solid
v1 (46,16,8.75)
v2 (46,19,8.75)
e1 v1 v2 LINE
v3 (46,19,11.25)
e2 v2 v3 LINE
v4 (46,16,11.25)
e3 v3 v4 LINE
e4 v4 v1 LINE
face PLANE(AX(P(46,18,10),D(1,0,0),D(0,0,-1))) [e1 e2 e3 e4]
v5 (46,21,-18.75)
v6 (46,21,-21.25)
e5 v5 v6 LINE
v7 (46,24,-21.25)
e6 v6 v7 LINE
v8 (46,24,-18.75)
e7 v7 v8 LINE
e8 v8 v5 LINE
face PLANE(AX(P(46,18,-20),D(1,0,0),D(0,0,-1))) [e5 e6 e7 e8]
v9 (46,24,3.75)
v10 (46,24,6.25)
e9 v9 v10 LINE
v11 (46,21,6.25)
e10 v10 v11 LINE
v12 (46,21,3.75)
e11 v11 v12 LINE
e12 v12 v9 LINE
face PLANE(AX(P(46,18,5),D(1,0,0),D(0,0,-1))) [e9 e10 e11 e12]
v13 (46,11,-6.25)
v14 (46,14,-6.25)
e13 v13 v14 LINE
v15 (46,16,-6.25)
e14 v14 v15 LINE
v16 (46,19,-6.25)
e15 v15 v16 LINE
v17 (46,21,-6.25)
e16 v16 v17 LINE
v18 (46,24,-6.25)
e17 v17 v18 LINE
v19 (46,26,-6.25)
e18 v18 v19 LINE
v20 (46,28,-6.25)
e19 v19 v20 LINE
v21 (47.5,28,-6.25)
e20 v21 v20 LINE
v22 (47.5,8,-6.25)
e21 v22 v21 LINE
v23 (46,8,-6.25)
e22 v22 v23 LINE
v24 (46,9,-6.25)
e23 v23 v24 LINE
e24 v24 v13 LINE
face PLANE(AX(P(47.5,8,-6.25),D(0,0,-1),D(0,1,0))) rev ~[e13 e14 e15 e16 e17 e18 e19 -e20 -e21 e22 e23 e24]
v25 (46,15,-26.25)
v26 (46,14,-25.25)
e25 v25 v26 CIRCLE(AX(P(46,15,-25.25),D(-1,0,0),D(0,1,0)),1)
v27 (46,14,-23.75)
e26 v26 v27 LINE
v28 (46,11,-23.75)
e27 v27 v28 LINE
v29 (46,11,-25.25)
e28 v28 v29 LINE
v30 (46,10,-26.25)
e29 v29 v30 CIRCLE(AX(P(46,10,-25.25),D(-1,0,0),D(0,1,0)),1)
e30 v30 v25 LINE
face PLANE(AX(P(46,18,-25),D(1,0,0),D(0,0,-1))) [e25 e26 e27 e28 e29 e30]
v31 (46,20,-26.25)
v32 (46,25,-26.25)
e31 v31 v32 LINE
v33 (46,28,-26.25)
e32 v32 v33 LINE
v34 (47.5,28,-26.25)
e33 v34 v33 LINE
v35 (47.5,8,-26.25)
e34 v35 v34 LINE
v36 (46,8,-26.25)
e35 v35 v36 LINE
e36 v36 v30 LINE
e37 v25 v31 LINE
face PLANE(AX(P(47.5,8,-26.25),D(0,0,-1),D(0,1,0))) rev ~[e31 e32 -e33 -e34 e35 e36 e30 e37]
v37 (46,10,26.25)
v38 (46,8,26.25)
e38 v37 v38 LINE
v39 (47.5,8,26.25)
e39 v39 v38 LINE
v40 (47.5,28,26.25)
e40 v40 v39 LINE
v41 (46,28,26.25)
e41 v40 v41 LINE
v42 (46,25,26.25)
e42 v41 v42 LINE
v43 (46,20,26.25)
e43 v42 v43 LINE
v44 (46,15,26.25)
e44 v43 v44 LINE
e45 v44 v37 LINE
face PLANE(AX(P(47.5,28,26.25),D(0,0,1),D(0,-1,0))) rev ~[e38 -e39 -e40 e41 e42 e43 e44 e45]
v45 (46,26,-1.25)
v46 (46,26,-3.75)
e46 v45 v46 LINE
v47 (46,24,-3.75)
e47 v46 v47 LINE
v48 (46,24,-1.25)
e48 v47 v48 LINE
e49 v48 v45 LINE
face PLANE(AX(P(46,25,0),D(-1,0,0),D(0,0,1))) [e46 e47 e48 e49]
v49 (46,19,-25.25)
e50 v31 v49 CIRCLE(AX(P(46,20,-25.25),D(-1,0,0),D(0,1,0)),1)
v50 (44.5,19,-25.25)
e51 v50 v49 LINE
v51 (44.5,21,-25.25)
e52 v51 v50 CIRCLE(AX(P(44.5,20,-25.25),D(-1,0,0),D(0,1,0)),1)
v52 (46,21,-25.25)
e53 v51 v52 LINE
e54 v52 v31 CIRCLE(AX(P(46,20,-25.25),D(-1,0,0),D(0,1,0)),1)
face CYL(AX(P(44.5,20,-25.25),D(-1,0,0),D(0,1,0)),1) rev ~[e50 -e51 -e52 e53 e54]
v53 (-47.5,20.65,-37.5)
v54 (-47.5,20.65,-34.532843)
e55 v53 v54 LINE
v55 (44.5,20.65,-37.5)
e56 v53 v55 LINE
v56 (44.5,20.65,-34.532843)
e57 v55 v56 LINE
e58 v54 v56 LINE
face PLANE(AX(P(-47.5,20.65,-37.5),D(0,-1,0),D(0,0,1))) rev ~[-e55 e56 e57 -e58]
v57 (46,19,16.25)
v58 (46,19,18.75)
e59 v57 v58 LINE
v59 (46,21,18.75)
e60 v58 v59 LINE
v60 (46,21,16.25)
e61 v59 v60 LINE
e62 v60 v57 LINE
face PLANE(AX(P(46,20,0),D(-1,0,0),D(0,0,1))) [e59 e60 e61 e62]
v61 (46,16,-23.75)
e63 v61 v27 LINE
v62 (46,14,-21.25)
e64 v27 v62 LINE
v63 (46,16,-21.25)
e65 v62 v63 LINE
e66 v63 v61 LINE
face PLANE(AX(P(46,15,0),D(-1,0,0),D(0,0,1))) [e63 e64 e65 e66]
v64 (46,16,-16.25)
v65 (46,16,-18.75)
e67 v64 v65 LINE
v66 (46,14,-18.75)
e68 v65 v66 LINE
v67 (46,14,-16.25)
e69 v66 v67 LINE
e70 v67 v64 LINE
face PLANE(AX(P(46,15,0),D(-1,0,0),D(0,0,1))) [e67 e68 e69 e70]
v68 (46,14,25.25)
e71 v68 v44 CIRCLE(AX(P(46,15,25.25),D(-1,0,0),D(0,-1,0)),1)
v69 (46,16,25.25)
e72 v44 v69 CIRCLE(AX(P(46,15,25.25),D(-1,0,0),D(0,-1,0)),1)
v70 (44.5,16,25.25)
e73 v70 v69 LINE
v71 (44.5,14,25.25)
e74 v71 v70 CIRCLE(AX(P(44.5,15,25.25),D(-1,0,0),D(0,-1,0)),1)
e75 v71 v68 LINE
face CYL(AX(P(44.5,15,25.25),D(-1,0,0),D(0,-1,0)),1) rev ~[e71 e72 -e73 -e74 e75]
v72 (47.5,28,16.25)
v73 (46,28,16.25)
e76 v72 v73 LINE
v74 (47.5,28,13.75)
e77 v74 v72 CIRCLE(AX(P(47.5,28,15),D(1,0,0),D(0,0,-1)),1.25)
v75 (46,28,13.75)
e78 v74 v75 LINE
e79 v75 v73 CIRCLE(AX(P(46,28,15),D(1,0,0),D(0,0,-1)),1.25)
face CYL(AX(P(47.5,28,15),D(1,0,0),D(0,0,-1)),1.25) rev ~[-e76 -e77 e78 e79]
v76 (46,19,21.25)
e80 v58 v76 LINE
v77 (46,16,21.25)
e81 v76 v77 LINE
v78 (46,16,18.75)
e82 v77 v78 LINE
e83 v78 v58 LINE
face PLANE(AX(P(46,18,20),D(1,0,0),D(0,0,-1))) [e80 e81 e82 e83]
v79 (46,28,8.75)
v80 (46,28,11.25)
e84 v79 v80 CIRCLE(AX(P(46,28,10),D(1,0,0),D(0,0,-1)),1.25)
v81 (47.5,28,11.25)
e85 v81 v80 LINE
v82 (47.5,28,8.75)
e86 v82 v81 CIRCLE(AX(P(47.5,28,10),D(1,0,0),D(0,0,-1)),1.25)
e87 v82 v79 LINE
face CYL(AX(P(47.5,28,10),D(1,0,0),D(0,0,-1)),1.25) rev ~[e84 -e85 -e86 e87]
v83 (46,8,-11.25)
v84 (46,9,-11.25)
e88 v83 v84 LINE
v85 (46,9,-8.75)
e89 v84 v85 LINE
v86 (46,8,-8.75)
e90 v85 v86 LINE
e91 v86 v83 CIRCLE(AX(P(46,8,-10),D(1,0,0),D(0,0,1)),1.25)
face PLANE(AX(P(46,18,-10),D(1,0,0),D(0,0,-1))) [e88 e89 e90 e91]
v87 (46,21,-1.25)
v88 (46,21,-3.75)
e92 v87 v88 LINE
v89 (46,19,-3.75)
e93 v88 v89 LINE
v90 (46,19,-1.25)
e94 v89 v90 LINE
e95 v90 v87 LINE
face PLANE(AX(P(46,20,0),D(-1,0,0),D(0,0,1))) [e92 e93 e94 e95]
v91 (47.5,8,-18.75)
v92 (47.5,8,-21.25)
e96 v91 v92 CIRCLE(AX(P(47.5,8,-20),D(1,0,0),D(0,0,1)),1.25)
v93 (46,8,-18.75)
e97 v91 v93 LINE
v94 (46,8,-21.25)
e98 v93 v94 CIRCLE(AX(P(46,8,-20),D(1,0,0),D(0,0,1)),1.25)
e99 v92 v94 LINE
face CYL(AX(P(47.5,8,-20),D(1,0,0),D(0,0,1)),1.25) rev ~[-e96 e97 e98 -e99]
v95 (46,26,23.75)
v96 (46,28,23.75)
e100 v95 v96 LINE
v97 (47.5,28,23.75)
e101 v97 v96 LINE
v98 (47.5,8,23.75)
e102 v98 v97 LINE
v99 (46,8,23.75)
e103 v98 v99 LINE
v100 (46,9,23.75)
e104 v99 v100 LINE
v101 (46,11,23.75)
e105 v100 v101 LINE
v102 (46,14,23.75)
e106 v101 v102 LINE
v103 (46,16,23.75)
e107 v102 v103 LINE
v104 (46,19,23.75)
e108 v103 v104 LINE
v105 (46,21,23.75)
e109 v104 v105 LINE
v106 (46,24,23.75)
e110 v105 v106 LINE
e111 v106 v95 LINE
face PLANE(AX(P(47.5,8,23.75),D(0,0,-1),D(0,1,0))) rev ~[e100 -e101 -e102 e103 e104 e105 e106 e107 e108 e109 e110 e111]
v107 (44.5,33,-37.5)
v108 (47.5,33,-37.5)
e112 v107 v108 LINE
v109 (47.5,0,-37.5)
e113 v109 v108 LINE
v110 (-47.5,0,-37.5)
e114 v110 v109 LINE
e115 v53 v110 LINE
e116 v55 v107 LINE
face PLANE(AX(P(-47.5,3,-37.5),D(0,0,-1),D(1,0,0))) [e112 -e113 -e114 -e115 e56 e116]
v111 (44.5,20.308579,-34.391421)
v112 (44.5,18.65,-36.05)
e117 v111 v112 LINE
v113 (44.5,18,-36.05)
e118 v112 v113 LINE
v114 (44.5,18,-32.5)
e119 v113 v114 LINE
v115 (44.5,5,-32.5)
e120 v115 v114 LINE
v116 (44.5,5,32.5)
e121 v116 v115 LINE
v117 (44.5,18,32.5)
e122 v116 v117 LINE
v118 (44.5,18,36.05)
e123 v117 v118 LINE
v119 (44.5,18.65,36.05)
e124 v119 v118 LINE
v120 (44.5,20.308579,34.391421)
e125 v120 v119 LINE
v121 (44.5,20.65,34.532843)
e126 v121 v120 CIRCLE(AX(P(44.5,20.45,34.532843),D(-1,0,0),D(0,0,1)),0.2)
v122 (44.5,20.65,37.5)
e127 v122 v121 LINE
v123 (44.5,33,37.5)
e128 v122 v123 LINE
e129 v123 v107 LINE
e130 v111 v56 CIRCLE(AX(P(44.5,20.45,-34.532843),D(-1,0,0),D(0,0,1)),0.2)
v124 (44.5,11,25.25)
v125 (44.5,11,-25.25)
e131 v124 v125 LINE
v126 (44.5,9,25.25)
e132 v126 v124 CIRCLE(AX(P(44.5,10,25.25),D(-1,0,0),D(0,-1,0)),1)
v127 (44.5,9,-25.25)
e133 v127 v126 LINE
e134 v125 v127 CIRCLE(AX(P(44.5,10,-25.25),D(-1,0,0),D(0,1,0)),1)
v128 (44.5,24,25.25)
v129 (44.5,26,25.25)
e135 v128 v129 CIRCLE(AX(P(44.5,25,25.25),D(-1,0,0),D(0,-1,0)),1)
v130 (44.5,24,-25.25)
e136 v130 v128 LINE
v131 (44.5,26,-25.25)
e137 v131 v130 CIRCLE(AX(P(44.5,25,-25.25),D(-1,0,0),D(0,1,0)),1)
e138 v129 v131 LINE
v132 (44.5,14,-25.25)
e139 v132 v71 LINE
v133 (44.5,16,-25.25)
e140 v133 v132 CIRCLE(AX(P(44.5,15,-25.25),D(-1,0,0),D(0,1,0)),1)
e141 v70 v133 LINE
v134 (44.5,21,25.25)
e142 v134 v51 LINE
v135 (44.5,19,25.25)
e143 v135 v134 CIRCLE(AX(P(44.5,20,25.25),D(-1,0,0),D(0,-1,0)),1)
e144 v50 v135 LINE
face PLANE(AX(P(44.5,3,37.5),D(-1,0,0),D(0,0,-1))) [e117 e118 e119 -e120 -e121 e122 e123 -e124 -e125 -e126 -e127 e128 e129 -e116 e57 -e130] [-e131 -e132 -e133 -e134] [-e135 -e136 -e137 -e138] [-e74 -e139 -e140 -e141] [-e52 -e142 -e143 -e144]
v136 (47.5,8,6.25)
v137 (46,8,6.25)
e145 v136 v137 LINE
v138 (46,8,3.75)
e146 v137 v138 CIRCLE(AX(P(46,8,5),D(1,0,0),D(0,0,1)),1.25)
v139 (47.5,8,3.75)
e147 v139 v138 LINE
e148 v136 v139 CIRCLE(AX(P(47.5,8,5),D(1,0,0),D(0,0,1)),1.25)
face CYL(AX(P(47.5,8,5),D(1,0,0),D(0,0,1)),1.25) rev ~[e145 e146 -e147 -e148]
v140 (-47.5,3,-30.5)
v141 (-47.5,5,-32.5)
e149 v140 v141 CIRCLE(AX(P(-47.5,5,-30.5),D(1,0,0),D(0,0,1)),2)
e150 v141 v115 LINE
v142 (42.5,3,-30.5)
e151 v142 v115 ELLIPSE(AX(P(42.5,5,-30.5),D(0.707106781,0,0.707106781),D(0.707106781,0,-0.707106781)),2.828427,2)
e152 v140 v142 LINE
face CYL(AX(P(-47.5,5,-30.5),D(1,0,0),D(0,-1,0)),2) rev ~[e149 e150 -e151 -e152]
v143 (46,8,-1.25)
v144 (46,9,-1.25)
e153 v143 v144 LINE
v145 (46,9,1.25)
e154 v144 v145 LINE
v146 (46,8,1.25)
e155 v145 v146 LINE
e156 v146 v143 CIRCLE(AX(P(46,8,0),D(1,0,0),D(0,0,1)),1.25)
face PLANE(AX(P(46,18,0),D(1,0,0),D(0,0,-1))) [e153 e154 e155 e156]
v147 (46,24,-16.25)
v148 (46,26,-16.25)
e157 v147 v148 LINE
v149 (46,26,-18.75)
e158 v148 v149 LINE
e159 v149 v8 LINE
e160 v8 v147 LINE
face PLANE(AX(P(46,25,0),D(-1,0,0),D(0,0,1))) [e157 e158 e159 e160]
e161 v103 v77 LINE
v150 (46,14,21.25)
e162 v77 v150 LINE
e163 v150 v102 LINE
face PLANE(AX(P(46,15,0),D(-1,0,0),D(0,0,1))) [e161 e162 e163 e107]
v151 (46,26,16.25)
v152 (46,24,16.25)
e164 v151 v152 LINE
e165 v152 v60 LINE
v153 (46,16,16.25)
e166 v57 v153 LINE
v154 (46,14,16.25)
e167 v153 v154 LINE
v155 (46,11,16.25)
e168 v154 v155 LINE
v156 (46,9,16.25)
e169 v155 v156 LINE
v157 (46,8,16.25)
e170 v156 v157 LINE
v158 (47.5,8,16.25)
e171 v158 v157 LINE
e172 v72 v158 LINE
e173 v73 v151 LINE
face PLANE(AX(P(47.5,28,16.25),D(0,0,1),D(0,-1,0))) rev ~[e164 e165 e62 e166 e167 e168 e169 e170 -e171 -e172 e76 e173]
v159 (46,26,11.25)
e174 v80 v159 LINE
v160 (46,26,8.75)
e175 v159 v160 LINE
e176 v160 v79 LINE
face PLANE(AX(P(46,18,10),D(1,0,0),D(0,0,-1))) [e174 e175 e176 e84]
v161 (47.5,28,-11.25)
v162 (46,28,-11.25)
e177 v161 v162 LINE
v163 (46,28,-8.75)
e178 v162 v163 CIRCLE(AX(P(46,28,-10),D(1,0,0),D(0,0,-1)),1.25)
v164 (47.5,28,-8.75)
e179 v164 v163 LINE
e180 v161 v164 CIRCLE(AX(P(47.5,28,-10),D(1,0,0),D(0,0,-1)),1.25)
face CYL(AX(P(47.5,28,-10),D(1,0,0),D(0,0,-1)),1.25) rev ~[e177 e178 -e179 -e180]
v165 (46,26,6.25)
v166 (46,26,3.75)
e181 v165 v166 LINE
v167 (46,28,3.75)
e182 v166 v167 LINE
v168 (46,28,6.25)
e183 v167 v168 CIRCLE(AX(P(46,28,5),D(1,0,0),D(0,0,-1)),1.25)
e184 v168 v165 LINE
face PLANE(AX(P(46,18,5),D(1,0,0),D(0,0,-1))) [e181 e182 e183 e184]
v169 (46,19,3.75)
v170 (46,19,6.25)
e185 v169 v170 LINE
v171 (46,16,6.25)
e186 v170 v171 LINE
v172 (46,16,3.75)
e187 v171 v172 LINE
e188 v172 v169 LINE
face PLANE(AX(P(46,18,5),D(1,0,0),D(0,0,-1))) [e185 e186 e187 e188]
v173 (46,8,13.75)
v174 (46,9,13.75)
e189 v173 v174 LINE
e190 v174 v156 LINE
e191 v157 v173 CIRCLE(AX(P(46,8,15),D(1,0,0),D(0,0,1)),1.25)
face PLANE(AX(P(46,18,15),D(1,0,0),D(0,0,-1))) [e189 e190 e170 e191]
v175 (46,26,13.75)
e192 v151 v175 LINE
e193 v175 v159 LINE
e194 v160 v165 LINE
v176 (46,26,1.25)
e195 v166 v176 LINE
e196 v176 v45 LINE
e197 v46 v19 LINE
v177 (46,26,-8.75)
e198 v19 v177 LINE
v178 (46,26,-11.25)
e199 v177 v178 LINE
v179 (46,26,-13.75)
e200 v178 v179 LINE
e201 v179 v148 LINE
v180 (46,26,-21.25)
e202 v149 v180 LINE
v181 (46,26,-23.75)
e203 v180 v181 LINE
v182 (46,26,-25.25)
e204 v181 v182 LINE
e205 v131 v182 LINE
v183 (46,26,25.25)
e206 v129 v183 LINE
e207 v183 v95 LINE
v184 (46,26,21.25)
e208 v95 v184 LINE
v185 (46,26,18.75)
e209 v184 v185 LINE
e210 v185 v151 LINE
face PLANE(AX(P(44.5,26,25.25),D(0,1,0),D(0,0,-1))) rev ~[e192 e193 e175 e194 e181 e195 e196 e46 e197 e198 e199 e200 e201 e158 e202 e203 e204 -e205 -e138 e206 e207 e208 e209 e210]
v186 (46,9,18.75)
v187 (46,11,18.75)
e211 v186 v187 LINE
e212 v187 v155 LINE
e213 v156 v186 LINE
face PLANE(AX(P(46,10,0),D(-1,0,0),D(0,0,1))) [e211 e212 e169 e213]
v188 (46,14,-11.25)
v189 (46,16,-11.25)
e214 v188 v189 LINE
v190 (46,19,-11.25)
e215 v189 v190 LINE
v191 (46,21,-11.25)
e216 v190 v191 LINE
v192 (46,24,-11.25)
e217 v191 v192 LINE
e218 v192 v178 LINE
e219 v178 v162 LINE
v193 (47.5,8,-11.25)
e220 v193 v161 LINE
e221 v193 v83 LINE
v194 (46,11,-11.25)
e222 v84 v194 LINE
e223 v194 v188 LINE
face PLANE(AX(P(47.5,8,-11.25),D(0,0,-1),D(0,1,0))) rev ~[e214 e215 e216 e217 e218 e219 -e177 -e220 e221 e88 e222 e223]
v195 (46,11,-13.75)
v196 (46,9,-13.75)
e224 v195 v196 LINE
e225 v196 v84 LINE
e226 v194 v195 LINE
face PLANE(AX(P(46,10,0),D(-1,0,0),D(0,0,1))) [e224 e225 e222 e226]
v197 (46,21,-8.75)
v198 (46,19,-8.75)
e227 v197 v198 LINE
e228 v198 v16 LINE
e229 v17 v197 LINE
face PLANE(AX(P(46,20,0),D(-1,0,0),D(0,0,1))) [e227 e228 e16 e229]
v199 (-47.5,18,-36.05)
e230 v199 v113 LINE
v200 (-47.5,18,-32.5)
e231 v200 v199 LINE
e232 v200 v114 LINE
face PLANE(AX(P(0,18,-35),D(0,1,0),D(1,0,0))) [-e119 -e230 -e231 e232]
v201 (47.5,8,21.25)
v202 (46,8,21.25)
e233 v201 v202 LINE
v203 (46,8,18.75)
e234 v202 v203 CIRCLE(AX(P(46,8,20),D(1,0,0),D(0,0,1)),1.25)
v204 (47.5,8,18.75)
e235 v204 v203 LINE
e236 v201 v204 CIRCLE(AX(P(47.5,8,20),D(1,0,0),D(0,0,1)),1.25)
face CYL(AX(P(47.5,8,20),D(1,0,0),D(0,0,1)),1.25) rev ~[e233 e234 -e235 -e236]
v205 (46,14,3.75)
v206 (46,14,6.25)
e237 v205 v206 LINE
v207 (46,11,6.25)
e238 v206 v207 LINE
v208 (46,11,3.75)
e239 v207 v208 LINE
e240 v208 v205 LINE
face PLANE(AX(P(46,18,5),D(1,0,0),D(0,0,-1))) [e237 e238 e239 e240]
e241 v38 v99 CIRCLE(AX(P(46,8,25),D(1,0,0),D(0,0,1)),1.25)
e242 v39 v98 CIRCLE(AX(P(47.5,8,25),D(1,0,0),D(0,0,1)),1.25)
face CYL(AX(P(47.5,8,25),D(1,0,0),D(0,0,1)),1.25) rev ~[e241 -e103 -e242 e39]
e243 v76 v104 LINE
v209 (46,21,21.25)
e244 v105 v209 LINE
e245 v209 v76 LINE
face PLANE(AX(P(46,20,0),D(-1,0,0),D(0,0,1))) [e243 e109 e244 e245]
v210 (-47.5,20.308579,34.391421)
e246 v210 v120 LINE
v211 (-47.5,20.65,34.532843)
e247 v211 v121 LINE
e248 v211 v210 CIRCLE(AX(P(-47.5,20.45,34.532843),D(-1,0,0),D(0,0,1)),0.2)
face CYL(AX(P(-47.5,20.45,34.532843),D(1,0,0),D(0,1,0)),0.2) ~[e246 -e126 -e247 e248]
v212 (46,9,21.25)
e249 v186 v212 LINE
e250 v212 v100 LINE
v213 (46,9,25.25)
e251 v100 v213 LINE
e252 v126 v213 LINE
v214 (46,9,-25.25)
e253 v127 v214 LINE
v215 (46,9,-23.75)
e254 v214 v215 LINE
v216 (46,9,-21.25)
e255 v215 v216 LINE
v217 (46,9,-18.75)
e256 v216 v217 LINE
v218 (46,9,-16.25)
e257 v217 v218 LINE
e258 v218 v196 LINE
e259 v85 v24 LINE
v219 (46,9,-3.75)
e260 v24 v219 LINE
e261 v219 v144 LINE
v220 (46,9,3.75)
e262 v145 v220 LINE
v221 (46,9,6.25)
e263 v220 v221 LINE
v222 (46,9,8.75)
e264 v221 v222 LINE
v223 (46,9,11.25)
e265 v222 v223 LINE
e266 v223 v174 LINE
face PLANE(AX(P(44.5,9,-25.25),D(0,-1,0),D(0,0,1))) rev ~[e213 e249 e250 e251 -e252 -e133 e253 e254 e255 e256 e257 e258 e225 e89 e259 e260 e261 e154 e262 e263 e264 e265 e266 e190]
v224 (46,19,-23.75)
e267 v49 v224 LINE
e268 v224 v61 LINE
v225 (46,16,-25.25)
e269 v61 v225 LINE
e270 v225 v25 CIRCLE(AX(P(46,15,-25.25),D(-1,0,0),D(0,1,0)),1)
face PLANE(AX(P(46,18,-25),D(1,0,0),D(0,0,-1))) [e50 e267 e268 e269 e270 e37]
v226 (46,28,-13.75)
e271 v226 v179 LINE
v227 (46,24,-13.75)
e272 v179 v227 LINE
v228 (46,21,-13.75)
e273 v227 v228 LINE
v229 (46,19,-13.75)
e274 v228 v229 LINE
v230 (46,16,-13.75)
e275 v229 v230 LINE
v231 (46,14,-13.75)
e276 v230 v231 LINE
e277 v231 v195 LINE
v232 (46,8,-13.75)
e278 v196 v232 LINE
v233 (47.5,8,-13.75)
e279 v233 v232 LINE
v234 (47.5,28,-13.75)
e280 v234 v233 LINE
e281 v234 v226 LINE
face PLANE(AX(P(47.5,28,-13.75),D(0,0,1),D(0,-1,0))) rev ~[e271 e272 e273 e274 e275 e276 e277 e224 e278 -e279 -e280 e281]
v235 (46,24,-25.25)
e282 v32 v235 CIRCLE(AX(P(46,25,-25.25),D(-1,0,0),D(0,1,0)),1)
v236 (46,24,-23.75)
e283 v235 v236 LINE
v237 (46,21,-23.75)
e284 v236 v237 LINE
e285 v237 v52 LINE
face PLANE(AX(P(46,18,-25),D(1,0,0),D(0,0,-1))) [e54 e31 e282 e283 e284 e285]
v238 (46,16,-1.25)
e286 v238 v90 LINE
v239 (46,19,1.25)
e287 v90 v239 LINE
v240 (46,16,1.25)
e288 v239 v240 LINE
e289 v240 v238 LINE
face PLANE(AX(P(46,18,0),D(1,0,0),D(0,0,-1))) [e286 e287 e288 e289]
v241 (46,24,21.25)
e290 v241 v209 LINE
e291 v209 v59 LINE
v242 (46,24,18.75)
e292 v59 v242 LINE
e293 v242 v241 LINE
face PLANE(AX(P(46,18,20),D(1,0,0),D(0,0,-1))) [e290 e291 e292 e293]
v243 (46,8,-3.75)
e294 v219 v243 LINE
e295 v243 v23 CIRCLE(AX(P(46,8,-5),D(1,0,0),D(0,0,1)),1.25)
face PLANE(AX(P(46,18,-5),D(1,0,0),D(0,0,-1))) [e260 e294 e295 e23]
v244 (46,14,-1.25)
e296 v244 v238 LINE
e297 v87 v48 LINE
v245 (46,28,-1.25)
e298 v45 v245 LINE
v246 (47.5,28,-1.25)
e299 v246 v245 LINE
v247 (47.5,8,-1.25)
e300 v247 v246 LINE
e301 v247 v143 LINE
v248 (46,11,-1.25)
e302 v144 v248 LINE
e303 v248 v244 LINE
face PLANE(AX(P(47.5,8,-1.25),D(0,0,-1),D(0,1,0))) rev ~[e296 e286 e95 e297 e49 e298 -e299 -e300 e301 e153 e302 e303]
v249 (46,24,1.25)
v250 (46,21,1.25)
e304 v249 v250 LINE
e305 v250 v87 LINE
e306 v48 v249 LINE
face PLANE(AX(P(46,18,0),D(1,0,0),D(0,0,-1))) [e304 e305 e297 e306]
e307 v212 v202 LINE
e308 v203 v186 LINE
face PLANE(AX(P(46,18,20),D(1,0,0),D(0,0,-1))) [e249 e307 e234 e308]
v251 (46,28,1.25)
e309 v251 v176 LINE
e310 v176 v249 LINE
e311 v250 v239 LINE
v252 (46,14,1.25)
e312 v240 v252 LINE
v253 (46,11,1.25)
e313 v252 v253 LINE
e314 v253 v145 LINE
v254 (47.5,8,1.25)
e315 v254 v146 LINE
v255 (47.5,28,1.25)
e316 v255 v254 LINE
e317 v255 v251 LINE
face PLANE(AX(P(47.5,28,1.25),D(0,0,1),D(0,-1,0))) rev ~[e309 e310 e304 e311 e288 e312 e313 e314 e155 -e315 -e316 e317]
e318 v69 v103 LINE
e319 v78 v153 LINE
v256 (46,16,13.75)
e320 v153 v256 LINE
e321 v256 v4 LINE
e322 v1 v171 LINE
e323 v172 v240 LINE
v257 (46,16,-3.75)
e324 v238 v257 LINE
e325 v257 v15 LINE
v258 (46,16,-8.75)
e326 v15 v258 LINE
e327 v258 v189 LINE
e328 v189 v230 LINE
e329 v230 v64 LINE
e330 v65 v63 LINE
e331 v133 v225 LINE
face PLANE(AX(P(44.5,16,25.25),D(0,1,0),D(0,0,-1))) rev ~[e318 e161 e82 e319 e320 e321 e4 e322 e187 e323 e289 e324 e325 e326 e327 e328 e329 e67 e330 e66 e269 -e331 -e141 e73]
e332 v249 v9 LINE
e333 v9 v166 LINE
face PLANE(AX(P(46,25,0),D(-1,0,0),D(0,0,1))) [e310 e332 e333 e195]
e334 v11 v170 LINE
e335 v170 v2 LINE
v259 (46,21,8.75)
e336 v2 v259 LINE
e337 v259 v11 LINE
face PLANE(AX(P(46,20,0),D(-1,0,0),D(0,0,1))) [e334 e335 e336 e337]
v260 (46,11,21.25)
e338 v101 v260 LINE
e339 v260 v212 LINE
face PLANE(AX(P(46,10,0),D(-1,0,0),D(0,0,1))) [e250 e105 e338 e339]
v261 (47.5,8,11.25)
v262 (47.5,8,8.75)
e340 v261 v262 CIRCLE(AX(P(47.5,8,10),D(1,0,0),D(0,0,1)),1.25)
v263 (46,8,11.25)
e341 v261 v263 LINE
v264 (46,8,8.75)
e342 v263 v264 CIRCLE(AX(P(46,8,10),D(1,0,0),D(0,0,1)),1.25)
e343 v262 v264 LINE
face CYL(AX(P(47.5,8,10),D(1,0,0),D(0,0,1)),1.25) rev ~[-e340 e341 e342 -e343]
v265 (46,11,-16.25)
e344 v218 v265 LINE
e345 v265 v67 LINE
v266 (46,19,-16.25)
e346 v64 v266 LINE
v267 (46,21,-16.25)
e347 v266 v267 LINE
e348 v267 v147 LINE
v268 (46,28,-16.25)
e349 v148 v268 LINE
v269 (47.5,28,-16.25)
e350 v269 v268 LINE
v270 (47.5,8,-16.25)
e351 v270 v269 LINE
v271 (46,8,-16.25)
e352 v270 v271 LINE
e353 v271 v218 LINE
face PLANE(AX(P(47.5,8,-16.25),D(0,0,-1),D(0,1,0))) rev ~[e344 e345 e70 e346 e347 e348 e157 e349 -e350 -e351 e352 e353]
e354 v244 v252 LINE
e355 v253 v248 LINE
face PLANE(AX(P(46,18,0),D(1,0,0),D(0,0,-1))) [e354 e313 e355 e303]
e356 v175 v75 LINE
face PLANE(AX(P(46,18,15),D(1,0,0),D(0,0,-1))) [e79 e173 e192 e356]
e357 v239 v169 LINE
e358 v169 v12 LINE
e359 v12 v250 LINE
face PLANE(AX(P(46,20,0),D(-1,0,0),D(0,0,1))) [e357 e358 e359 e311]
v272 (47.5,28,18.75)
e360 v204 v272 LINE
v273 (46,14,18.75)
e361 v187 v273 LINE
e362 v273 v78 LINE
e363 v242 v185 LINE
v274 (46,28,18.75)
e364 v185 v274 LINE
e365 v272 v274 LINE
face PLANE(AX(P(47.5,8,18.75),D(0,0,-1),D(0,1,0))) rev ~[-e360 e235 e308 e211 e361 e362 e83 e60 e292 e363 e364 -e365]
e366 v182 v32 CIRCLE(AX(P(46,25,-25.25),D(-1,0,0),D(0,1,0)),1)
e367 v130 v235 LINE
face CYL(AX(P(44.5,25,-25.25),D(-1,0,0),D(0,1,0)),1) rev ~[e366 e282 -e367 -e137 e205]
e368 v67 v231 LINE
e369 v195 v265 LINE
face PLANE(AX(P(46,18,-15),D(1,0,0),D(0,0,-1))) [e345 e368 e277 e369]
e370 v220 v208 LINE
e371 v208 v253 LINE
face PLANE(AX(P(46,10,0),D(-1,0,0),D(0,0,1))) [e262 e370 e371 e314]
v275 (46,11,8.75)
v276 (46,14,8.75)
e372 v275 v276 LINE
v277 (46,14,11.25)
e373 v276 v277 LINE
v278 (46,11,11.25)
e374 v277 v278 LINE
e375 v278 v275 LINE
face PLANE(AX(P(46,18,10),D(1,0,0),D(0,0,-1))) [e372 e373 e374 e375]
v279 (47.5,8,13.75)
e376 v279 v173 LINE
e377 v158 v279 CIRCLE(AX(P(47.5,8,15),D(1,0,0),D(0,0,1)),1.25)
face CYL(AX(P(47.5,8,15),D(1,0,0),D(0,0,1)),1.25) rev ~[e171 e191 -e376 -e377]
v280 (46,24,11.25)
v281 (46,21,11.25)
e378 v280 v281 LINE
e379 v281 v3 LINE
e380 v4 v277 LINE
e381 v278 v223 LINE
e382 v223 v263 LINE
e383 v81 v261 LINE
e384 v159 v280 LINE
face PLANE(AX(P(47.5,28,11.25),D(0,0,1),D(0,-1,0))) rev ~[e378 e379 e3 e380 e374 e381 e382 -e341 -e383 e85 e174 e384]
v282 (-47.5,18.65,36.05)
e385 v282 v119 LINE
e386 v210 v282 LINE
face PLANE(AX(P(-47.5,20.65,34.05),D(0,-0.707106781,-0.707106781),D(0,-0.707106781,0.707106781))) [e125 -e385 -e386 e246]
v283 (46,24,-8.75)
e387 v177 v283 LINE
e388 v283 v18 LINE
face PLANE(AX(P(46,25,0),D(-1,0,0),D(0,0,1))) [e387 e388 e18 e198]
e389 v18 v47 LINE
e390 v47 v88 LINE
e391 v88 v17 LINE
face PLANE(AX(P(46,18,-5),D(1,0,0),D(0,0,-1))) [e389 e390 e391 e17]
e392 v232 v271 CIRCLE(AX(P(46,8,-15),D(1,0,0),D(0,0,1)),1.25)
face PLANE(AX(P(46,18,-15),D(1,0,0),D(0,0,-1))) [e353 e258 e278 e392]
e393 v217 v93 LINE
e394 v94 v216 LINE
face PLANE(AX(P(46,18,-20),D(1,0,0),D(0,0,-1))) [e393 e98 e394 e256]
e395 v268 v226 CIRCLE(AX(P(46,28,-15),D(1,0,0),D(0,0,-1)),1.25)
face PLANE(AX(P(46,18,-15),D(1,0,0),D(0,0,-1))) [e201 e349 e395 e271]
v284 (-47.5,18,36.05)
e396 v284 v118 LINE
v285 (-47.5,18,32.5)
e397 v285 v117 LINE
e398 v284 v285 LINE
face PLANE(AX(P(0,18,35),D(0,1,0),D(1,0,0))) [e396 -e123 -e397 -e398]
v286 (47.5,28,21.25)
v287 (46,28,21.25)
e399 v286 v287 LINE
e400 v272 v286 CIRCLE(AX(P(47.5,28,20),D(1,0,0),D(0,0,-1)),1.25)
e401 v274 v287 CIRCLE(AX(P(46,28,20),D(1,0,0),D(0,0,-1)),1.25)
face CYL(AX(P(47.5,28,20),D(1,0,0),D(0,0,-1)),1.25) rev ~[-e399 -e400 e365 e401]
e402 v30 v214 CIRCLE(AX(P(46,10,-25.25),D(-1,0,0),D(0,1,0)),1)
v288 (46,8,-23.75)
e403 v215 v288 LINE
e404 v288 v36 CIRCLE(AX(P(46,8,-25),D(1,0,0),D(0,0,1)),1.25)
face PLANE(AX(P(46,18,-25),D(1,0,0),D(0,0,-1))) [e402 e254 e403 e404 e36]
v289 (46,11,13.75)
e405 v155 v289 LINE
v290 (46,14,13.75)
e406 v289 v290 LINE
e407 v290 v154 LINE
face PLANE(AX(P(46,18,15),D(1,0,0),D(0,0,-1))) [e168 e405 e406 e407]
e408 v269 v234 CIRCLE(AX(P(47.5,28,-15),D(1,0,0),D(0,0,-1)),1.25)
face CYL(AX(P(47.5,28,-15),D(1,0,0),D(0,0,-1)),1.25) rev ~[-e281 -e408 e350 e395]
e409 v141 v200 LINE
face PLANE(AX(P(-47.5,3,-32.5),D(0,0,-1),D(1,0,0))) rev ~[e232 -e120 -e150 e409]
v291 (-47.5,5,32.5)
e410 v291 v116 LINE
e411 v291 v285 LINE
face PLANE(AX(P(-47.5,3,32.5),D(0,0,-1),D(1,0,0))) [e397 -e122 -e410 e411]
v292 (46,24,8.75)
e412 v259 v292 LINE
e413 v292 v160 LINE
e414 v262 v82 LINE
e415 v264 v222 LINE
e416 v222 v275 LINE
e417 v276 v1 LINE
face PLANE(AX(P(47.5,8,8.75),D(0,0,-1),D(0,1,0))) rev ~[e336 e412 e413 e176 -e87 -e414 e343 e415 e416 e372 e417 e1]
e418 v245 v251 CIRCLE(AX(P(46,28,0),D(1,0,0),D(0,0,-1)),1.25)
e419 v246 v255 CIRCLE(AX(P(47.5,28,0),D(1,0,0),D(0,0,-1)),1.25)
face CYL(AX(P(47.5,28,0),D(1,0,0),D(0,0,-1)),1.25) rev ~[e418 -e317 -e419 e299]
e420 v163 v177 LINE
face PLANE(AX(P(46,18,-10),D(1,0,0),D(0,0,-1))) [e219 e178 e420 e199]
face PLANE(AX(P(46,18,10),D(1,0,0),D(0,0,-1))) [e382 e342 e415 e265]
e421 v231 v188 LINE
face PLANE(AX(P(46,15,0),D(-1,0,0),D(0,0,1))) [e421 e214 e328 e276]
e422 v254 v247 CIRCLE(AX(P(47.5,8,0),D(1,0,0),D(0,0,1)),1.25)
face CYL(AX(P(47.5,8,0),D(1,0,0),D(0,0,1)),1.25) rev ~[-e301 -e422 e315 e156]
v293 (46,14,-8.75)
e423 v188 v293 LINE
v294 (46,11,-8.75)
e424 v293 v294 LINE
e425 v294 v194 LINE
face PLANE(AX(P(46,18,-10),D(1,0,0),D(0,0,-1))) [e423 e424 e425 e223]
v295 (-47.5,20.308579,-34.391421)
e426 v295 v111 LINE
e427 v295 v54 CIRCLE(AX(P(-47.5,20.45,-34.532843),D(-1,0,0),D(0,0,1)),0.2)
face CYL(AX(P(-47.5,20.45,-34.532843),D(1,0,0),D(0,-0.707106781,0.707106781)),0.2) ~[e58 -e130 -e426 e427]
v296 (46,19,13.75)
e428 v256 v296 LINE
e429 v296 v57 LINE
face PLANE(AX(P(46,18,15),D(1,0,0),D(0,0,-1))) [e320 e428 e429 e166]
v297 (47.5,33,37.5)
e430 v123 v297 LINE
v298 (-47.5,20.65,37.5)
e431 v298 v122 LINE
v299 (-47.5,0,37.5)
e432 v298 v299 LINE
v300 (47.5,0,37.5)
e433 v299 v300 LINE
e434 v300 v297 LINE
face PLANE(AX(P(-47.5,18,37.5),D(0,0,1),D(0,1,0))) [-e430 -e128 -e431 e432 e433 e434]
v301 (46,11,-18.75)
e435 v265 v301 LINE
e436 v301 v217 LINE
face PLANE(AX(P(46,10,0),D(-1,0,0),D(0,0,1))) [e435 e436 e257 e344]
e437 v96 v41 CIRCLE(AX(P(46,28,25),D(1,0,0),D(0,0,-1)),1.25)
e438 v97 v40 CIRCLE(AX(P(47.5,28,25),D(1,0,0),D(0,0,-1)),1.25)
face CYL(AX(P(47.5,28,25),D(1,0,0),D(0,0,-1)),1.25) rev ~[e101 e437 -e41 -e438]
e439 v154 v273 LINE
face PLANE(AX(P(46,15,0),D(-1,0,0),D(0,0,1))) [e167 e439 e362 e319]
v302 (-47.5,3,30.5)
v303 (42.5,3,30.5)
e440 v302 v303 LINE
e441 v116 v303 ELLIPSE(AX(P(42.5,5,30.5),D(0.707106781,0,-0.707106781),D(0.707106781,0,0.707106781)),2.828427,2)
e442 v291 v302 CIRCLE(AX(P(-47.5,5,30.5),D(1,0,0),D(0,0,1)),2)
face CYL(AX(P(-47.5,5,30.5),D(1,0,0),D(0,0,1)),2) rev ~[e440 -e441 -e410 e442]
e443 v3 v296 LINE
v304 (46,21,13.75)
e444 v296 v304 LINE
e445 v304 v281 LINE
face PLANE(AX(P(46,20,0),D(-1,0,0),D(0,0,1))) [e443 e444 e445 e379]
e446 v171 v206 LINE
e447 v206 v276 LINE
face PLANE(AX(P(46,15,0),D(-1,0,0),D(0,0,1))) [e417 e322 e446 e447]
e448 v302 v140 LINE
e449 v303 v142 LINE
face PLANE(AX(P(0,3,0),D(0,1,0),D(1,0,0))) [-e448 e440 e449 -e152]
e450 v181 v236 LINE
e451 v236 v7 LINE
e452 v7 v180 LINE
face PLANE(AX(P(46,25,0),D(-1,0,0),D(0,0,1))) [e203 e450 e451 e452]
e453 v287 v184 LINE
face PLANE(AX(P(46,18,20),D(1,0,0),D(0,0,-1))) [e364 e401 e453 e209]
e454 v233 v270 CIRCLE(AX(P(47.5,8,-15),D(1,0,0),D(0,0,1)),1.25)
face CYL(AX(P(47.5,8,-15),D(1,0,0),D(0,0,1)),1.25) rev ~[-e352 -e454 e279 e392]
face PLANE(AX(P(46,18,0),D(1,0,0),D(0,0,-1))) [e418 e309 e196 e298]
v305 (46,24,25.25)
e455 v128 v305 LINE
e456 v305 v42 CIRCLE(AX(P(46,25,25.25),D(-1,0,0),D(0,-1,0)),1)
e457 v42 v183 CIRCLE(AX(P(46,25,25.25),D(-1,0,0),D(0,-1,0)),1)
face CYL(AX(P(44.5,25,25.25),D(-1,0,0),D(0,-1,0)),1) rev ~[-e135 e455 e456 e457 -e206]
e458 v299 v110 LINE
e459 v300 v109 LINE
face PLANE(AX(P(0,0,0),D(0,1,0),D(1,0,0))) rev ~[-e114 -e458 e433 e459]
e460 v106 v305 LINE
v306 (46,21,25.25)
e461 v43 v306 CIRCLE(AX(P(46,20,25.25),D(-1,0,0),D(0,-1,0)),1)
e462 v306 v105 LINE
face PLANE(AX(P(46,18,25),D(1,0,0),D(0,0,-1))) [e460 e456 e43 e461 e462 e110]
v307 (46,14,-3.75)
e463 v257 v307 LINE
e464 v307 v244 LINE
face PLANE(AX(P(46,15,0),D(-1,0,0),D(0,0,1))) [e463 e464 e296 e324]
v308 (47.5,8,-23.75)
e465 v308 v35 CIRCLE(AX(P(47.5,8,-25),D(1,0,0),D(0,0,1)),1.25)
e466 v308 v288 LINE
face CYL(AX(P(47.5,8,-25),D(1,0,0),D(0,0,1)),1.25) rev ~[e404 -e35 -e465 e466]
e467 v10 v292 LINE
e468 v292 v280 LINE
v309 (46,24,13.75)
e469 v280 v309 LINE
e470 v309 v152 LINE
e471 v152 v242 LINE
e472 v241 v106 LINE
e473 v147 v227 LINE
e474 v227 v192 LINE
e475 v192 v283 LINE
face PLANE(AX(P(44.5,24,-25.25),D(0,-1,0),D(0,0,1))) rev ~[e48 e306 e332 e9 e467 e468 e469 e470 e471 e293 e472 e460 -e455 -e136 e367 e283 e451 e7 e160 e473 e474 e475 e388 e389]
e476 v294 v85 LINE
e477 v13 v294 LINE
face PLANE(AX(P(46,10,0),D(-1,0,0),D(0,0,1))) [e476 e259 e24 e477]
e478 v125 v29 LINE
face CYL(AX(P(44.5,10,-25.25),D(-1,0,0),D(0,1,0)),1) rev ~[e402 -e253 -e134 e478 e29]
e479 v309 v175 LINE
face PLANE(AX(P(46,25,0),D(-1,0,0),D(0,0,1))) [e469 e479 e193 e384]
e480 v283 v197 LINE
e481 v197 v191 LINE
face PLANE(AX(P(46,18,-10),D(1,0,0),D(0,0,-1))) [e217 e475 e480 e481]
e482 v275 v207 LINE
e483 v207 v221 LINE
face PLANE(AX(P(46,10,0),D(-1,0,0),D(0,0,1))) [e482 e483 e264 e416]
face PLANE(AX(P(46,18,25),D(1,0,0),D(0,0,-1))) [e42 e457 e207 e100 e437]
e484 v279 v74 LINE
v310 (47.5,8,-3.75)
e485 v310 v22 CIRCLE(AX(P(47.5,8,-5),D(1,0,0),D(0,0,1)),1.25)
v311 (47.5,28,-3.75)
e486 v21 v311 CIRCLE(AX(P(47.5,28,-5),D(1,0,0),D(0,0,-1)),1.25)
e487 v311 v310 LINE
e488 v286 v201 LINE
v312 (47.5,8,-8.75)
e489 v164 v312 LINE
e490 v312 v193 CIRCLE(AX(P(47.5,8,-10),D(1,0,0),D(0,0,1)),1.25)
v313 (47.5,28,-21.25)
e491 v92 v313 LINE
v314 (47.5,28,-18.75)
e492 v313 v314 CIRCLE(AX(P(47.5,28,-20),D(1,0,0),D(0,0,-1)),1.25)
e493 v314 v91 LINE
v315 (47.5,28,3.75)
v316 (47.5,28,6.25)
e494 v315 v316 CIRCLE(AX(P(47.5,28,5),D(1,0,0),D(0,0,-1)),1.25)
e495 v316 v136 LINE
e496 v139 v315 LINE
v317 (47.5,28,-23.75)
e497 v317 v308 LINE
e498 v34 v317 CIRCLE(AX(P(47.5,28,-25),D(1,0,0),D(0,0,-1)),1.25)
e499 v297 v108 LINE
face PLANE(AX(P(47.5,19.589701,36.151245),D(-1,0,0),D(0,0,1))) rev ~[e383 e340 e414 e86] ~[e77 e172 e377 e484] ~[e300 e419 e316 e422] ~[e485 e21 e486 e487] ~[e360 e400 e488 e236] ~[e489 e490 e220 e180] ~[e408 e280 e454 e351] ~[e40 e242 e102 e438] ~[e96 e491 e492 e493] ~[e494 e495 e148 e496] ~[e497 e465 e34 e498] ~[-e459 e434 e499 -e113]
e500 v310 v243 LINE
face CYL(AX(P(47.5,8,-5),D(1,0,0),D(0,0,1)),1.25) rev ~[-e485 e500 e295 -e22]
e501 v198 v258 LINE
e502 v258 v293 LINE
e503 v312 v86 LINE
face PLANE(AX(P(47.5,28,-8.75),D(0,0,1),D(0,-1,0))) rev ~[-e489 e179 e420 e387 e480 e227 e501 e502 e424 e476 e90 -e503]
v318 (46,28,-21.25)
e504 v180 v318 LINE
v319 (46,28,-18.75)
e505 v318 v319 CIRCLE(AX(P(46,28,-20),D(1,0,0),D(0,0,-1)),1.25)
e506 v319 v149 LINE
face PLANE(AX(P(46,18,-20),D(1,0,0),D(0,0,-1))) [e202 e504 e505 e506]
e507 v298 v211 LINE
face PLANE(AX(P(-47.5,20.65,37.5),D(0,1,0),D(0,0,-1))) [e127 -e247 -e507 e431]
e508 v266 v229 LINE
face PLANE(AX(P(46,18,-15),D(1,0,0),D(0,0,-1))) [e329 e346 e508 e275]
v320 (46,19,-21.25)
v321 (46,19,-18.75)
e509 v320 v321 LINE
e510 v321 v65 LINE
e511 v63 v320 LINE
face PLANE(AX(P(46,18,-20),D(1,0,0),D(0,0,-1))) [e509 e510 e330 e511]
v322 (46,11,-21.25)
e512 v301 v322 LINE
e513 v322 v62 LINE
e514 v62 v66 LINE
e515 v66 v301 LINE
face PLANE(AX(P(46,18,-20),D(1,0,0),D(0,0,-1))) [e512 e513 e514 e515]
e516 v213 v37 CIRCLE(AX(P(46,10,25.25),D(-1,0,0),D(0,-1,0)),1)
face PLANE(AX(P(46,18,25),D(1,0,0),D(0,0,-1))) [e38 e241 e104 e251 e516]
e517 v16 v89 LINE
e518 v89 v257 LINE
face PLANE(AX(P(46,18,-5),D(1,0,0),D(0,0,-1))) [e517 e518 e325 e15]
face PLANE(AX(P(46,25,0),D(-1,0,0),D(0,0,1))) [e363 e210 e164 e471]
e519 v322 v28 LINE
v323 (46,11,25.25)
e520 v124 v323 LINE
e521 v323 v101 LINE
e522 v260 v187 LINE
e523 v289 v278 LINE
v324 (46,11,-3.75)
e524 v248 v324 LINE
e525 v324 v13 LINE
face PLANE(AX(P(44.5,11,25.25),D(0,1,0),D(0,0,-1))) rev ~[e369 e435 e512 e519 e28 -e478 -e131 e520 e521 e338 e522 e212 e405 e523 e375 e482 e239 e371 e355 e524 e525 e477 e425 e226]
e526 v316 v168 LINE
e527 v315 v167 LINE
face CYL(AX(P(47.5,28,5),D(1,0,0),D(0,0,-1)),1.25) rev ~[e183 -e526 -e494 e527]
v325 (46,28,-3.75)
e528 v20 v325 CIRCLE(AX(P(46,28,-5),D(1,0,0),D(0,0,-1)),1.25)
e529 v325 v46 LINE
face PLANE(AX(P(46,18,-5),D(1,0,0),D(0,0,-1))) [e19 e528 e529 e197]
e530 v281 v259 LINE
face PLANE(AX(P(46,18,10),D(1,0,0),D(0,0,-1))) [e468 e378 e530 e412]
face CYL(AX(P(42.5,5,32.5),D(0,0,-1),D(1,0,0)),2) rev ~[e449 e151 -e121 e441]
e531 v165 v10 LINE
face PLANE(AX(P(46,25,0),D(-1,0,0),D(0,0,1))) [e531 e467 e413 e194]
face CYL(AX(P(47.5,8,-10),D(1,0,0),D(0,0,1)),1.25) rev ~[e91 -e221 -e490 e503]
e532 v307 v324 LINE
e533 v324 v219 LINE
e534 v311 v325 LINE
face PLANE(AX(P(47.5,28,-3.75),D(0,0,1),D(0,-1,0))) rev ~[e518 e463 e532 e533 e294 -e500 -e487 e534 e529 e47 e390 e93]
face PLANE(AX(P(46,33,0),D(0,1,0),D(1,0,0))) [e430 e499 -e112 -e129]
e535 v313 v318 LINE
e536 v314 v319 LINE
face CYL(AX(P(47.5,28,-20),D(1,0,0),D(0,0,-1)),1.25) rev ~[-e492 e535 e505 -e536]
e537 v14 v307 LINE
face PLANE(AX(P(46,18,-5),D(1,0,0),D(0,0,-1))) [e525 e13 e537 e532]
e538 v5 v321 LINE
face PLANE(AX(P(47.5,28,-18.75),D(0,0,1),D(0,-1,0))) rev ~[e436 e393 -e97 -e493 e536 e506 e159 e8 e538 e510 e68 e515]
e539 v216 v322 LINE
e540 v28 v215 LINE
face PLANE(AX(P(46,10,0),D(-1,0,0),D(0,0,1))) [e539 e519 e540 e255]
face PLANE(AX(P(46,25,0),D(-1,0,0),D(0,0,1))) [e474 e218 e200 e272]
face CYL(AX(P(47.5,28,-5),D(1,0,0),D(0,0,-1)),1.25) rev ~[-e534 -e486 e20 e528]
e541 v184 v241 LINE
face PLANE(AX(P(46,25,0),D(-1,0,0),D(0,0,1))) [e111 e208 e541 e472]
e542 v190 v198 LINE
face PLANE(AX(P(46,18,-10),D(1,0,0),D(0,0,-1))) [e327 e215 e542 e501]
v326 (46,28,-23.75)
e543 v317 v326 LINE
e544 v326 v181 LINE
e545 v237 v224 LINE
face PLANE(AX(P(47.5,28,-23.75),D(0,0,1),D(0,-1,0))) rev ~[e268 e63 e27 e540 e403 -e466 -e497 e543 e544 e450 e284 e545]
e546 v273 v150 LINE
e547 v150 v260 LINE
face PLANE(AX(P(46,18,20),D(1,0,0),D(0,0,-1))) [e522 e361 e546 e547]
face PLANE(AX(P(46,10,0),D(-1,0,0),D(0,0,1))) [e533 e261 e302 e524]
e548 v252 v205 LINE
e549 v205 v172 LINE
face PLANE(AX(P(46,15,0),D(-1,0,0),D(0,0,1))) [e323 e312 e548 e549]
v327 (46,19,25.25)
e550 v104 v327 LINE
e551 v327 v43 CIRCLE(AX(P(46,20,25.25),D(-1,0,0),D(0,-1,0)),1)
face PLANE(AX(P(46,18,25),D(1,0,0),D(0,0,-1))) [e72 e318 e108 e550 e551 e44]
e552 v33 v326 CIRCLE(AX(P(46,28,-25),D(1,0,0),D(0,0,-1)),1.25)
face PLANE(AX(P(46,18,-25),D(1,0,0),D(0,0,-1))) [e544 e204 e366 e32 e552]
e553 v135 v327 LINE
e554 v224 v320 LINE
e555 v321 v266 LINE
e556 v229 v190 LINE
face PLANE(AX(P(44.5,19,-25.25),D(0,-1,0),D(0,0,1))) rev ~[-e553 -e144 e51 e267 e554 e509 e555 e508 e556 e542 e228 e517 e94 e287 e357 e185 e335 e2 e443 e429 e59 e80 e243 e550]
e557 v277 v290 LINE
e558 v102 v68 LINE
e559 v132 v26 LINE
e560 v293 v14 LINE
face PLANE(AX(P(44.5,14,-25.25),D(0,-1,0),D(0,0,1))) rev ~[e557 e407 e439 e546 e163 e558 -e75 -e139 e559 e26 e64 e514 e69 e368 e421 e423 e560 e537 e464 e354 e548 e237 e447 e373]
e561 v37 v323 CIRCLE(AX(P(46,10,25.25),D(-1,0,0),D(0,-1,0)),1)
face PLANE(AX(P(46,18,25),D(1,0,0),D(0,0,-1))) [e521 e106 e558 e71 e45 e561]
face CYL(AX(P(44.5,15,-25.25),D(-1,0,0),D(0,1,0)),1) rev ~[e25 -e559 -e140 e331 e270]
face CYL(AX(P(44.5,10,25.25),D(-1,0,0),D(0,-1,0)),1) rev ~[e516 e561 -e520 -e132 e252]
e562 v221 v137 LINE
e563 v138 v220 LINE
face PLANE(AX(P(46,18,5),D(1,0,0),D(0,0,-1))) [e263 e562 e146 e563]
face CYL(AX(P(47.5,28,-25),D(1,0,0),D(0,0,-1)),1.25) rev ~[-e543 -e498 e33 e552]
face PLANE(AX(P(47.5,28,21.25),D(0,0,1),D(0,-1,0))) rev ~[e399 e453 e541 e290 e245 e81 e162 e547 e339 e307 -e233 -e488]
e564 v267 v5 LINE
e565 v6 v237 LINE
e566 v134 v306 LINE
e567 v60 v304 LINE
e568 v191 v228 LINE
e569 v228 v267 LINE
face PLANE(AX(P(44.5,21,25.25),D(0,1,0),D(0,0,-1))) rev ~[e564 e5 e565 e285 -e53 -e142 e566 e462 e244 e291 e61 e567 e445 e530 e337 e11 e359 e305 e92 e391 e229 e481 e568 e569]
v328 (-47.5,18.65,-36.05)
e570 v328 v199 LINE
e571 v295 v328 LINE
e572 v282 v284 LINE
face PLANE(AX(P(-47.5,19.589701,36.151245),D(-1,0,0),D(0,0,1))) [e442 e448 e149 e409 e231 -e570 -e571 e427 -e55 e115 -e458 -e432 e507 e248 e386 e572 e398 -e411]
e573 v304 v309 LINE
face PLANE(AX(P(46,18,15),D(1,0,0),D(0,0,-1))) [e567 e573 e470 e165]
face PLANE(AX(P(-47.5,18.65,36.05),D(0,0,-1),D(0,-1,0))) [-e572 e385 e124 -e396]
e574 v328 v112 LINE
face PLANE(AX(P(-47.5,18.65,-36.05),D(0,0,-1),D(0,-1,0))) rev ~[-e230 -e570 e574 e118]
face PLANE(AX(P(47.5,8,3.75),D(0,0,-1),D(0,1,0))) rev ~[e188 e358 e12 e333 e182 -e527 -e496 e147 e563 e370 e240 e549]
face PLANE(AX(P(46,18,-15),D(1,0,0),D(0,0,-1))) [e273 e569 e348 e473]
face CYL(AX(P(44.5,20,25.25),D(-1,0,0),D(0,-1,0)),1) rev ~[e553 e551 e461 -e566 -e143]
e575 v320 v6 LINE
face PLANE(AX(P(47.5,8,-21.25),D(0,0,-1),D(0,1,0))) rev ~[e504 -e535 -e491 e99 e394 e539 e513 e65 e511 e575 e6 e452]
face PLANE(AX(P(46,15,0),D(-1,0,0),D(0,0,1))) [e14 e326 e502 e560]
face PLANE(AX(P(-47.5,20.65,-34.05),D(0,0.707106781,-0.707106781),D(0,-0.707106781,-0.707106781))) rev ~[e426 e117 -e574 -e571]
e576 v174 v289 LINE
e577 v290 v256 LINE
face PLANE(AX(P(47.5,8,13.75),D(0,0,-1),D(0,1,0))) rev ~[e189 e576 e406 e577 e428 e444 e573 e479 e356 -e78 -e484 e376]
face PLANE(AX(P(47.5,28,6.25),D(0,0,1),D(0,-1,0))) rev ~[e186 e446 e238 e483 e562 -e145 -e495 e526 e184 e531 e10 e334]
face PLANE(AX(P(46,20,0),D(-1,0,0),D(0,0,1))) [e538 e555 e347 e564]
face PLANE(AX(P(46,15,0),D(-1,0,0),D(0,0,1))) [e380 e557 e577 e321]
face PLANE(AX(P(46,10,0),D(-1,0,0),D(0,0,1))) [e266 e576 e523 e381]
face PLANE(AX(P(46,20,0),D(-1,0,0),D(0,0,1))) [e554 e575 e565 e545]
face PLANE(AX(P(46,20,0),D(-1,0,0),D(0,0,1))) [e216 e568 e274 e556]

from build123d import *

# Parameters (mm, degrees)
SKETCH1_W           = 95
SKETCH1_H           = 75
BOSS_EXTRUDE1_DEPTH = 3
SKETCH2_W           = 95
SKETCH2_H           = 5
BOSS_EXTRUDE2_DEPTH = 15
SKETCH3_W           = 3
SKETCH3_H           = 75
BOSS_EXTRUDE3_DEPTH = 30
CUT_EXTRUDE1_DEPTH  = 1.5
CUT_EXTRUDE2_DEPTH  = 1.5
BOSS_EXTRUDE4_DEPTH = 95
FILLET1_R           = 0.2
FILLET2_R           = 2


with BuildPart() as part:
    # Sketch1 → Boss-Extrude1 (new body)
    with BuildSketch(Plane(origin=(0, 0, 0), x_dir=(1, 0, 0), z_dir=(0, 1, 0))):
        Rectangle(SKETCH1_W, SKETCH1_H)
    extrude(amount=BOSS_EXTRUDE1_DEPTH)

    # Sketch2 → Boss-Extrude2 (add)
    with BuildSketch(Plane(origin=(0, 3, 0), x_dir=(1, 0, 0), z_dir=(0, 1, 0))):
        with Locations((0, 35)):
            Rectangle(SKETCH2_W, SKETCH2_H)
        with Locations((0, -35)):
            Rectangle(SKETCH2_W, SKETCH2_H)
    extrude(amount=BOSS_EXTRUDE2_DEPTH)

    # Sketch3 → Boss-Extrude3 (add)
    with BuildSketch(Plane(origin=(0, 3, 0), x_dir=(1, 0, 0), z_dir=(0, 1, 0))):
        with Locations((46, 0)):
            Rectangle(SKETCH3_W, SKETCH3_H)
    extrude(amount=BOSS_EXTRUDE3_DEPTH)

    # Sketch4 → Cut-Extrude1 (cut)
    with BuildSketch(Plane(origin=(47.5, 0, 0), x_dir=(0, 0, -1), z_dir=(1, 0, 0))):
        with BuildLine():
            Line((26.25, 8), (26.25, 28))
            ThreePointArc((26.25, 28), (25, 29.25), (23.75, 28))
            Line((23.75, 28), (23.75, 8))
            ThreePointArc((23.75, 8), (25, 6.75), (26.25, 8))
        make_face()
        with BuildLine():
            Line((21.25, 8), (21.25, 28))
            ThreePointArc((21.25, 28), (20, 29.25), (18.75, 28))
            Line((18.75, 28), (18.75, 8))
            ThreePointArc((18.75, 8), (20, 6.75), (21.25, 8))
        make_face()
        with BuildLine():
            Line((16.25, 8), (16.25, 28))
            ThreePointArc((16.25, 28), (15, 29.25), (13.75, 28))
            Line((13.75, 28), (13.75, 8))
            ThreePointArc((13.75, 8), (15, 6.75), (16.25, 8))
        make_face()
        with BuildLine():
            Line((11.25, 8), (11.25, 28))
            ThreePointArc((11.25, 28), (10, 29.25), (8.75, 28))
            Line((8.75, 28), (8.75, 8))
            ThreePointArc((8.75, 8), (10, 6.75), (11.25, 8))
        make_face()
        with BuildLine():
            Line((6.25, 8), (6.25, 28))
            ThreePointArc((6.25, 28), (5, 29.25), (3.75, 28))
            Line((3.75, 28), (3.75, 8))
            ThreePointArc((3.75, 8), (5, 6.75), (6.25, 8))
        make_face()
        with BuildLine():
            Line((1.25, 8), (1.25, 28))
            ThreePointArc((1.25, 28), (0, 29.25), (-1.25, 28))
            Line((-1.25, 28), (-1.25, 8))
            ThreePointArc((-1.25, 8), (0, 6.75), (1.25, 8))
        make_face()
        with BuildLine():
            Line((-3.75, 8), (-3.75, 28))
            ThreePointArc((-3.75, 28), (-5, 29.25), (-6.25, 28))
            Line((-6.25, 28), (-6.25, 8))
            ThreePointArc((-6.25, 8), (-5, 6.75), (-3.75, 8))
        make_face()
        with BuildLine():
            Line((-8.75, 8), (-8.75, 28))
            ThreePointArc((-8.75, 28), (-10, 29.25), (-11.25, 28))
            Line((-11.25, 28), (-11.25, 8))
            ThreePointArc((-11.25, 8), (-10, 6.75), (-8.75, 8))
        make_face()
        with BuildLine():
            Line((-13.75, 8), (-13.75, 28))
            ThreePointArc((-13.75, 28), (-15, 29.25), (-16.25, 28))
            Line((-16.25, 28), (-16.25, 8))
            ThreePointArc((-16.25, 8), (-15, 6.75), (-13.75, 8))
        make_face()
        with BuildLine():
            Line((-18.75, 8), (-18.75, 28))
            ThreePointArc((-18.75, 28), (-20, 29.25), (-21.25, 28))
            Line((-21.25, 28), (-21.25, 8))
            ThreePointArc((-21.25, 8), (-20, 6.75), (-18.75, 8))
        make_face()
        with BuildLine():
            Line((-23.75, 8), (-23.75, 28))
            ThreePointArc((-23.75, 28), (-25, 29.25), (-26.25, 28))
            Line((-26.25, 28), (-26.25, 8))
            ThreePointArc((-26.25, 8), (-25, 6.75), (-23.75, 8))
        make_face()
    extrude(amount=-CUT_EXTRUDE1_DEPTH, mode=Mode.SUBTRACT)

    # Sketch5 → Cut-Extrude2 (cut)
    with BuildSketch(Plane.ZY.offset(-44.5)):
        with BuildLine():
            Line((-25.25, 24), (25.25, 24))
            ThreePointArc((25.25, 24), (26.25, 25), (25.25, 26))
            Line((25.25, 26), (-25.25, 26))
            ThreePointArc((-25.25, 26), (-26.25, 25), (-25.25, 24))
        make_face()
        with BuildLine():
            Line((-25.25, 19), (25.25, 19))
            ThreePointArc((25.25, 19), (26.25, 20), (25.25, 21))
            Line((25.25, 21), (-25.25, 21))
            ThreePointArc((-25.25, 21), (-26.25, 20), (-25.25, 19))
        make_face()
        with BuildLine():
            Line((-25.25, 14), (25.25, 14))
            ThreePointArc((25.25, 14), (26.25, 15), (25.25, 16))
            Line((25.25, 16), (-25.25, 16))
            ThreePointArc((-25.25, 16), (-26.25, 15), (-25.25, 14))
        make_face()
        with BuildLine():
            Line((-25.25, 9), (25.25, 9))
            ThreePointArc((25.25, 9), (26.25, 10), (25.25, 11))
            Line((25.25, 11), (-25.25, 11))
            ThreePointArc((-25.25, 11), (-26.25, 10), (-25.25, 9))
        make_face()
    extrude(amount=-CUT_EXTRUDE2_DEPTH, mode=Mode.SUBTRACT)

    # Sketch6 → Boss-Extrude4 (add)
    with BuildSketch(Plane.ZY.offset(47.5)):
        Polygon((37.5, 18), (37.5, 20.65), (34.05, 20.65), (36.05, 18.65), (36.05, 18), align=None)
        Polygon((-36.05, 18), (-37.5, 18), (-37.5, 20.65), (-34.05, 20.65), (-36.05, 18.65), align=None)
    extrude(amount=-BOSS_EXTRUDE4_DEPTH)

    # Fillet1
    fillet1_edges = [part.edges().sort_by_distance(p)[0] for p in [
        (-1.5, 20.65, 34.05),
        (-1.5, 20.65, -34.05),
    ]]
    fillet(fillet1_edges, radius=FILLET1_R)

    # Fillet2
    fillet2_edges = [part.edges().sort_by_distance(p)[0] for p in [
        (-1.5, 3, -32.5),
        (-1.5, 3, 32.5),
        (44.5, 3, 0),
    ]]
    fillet(fillet2_edges, radius=FILLET2_R)


solid = part.part
